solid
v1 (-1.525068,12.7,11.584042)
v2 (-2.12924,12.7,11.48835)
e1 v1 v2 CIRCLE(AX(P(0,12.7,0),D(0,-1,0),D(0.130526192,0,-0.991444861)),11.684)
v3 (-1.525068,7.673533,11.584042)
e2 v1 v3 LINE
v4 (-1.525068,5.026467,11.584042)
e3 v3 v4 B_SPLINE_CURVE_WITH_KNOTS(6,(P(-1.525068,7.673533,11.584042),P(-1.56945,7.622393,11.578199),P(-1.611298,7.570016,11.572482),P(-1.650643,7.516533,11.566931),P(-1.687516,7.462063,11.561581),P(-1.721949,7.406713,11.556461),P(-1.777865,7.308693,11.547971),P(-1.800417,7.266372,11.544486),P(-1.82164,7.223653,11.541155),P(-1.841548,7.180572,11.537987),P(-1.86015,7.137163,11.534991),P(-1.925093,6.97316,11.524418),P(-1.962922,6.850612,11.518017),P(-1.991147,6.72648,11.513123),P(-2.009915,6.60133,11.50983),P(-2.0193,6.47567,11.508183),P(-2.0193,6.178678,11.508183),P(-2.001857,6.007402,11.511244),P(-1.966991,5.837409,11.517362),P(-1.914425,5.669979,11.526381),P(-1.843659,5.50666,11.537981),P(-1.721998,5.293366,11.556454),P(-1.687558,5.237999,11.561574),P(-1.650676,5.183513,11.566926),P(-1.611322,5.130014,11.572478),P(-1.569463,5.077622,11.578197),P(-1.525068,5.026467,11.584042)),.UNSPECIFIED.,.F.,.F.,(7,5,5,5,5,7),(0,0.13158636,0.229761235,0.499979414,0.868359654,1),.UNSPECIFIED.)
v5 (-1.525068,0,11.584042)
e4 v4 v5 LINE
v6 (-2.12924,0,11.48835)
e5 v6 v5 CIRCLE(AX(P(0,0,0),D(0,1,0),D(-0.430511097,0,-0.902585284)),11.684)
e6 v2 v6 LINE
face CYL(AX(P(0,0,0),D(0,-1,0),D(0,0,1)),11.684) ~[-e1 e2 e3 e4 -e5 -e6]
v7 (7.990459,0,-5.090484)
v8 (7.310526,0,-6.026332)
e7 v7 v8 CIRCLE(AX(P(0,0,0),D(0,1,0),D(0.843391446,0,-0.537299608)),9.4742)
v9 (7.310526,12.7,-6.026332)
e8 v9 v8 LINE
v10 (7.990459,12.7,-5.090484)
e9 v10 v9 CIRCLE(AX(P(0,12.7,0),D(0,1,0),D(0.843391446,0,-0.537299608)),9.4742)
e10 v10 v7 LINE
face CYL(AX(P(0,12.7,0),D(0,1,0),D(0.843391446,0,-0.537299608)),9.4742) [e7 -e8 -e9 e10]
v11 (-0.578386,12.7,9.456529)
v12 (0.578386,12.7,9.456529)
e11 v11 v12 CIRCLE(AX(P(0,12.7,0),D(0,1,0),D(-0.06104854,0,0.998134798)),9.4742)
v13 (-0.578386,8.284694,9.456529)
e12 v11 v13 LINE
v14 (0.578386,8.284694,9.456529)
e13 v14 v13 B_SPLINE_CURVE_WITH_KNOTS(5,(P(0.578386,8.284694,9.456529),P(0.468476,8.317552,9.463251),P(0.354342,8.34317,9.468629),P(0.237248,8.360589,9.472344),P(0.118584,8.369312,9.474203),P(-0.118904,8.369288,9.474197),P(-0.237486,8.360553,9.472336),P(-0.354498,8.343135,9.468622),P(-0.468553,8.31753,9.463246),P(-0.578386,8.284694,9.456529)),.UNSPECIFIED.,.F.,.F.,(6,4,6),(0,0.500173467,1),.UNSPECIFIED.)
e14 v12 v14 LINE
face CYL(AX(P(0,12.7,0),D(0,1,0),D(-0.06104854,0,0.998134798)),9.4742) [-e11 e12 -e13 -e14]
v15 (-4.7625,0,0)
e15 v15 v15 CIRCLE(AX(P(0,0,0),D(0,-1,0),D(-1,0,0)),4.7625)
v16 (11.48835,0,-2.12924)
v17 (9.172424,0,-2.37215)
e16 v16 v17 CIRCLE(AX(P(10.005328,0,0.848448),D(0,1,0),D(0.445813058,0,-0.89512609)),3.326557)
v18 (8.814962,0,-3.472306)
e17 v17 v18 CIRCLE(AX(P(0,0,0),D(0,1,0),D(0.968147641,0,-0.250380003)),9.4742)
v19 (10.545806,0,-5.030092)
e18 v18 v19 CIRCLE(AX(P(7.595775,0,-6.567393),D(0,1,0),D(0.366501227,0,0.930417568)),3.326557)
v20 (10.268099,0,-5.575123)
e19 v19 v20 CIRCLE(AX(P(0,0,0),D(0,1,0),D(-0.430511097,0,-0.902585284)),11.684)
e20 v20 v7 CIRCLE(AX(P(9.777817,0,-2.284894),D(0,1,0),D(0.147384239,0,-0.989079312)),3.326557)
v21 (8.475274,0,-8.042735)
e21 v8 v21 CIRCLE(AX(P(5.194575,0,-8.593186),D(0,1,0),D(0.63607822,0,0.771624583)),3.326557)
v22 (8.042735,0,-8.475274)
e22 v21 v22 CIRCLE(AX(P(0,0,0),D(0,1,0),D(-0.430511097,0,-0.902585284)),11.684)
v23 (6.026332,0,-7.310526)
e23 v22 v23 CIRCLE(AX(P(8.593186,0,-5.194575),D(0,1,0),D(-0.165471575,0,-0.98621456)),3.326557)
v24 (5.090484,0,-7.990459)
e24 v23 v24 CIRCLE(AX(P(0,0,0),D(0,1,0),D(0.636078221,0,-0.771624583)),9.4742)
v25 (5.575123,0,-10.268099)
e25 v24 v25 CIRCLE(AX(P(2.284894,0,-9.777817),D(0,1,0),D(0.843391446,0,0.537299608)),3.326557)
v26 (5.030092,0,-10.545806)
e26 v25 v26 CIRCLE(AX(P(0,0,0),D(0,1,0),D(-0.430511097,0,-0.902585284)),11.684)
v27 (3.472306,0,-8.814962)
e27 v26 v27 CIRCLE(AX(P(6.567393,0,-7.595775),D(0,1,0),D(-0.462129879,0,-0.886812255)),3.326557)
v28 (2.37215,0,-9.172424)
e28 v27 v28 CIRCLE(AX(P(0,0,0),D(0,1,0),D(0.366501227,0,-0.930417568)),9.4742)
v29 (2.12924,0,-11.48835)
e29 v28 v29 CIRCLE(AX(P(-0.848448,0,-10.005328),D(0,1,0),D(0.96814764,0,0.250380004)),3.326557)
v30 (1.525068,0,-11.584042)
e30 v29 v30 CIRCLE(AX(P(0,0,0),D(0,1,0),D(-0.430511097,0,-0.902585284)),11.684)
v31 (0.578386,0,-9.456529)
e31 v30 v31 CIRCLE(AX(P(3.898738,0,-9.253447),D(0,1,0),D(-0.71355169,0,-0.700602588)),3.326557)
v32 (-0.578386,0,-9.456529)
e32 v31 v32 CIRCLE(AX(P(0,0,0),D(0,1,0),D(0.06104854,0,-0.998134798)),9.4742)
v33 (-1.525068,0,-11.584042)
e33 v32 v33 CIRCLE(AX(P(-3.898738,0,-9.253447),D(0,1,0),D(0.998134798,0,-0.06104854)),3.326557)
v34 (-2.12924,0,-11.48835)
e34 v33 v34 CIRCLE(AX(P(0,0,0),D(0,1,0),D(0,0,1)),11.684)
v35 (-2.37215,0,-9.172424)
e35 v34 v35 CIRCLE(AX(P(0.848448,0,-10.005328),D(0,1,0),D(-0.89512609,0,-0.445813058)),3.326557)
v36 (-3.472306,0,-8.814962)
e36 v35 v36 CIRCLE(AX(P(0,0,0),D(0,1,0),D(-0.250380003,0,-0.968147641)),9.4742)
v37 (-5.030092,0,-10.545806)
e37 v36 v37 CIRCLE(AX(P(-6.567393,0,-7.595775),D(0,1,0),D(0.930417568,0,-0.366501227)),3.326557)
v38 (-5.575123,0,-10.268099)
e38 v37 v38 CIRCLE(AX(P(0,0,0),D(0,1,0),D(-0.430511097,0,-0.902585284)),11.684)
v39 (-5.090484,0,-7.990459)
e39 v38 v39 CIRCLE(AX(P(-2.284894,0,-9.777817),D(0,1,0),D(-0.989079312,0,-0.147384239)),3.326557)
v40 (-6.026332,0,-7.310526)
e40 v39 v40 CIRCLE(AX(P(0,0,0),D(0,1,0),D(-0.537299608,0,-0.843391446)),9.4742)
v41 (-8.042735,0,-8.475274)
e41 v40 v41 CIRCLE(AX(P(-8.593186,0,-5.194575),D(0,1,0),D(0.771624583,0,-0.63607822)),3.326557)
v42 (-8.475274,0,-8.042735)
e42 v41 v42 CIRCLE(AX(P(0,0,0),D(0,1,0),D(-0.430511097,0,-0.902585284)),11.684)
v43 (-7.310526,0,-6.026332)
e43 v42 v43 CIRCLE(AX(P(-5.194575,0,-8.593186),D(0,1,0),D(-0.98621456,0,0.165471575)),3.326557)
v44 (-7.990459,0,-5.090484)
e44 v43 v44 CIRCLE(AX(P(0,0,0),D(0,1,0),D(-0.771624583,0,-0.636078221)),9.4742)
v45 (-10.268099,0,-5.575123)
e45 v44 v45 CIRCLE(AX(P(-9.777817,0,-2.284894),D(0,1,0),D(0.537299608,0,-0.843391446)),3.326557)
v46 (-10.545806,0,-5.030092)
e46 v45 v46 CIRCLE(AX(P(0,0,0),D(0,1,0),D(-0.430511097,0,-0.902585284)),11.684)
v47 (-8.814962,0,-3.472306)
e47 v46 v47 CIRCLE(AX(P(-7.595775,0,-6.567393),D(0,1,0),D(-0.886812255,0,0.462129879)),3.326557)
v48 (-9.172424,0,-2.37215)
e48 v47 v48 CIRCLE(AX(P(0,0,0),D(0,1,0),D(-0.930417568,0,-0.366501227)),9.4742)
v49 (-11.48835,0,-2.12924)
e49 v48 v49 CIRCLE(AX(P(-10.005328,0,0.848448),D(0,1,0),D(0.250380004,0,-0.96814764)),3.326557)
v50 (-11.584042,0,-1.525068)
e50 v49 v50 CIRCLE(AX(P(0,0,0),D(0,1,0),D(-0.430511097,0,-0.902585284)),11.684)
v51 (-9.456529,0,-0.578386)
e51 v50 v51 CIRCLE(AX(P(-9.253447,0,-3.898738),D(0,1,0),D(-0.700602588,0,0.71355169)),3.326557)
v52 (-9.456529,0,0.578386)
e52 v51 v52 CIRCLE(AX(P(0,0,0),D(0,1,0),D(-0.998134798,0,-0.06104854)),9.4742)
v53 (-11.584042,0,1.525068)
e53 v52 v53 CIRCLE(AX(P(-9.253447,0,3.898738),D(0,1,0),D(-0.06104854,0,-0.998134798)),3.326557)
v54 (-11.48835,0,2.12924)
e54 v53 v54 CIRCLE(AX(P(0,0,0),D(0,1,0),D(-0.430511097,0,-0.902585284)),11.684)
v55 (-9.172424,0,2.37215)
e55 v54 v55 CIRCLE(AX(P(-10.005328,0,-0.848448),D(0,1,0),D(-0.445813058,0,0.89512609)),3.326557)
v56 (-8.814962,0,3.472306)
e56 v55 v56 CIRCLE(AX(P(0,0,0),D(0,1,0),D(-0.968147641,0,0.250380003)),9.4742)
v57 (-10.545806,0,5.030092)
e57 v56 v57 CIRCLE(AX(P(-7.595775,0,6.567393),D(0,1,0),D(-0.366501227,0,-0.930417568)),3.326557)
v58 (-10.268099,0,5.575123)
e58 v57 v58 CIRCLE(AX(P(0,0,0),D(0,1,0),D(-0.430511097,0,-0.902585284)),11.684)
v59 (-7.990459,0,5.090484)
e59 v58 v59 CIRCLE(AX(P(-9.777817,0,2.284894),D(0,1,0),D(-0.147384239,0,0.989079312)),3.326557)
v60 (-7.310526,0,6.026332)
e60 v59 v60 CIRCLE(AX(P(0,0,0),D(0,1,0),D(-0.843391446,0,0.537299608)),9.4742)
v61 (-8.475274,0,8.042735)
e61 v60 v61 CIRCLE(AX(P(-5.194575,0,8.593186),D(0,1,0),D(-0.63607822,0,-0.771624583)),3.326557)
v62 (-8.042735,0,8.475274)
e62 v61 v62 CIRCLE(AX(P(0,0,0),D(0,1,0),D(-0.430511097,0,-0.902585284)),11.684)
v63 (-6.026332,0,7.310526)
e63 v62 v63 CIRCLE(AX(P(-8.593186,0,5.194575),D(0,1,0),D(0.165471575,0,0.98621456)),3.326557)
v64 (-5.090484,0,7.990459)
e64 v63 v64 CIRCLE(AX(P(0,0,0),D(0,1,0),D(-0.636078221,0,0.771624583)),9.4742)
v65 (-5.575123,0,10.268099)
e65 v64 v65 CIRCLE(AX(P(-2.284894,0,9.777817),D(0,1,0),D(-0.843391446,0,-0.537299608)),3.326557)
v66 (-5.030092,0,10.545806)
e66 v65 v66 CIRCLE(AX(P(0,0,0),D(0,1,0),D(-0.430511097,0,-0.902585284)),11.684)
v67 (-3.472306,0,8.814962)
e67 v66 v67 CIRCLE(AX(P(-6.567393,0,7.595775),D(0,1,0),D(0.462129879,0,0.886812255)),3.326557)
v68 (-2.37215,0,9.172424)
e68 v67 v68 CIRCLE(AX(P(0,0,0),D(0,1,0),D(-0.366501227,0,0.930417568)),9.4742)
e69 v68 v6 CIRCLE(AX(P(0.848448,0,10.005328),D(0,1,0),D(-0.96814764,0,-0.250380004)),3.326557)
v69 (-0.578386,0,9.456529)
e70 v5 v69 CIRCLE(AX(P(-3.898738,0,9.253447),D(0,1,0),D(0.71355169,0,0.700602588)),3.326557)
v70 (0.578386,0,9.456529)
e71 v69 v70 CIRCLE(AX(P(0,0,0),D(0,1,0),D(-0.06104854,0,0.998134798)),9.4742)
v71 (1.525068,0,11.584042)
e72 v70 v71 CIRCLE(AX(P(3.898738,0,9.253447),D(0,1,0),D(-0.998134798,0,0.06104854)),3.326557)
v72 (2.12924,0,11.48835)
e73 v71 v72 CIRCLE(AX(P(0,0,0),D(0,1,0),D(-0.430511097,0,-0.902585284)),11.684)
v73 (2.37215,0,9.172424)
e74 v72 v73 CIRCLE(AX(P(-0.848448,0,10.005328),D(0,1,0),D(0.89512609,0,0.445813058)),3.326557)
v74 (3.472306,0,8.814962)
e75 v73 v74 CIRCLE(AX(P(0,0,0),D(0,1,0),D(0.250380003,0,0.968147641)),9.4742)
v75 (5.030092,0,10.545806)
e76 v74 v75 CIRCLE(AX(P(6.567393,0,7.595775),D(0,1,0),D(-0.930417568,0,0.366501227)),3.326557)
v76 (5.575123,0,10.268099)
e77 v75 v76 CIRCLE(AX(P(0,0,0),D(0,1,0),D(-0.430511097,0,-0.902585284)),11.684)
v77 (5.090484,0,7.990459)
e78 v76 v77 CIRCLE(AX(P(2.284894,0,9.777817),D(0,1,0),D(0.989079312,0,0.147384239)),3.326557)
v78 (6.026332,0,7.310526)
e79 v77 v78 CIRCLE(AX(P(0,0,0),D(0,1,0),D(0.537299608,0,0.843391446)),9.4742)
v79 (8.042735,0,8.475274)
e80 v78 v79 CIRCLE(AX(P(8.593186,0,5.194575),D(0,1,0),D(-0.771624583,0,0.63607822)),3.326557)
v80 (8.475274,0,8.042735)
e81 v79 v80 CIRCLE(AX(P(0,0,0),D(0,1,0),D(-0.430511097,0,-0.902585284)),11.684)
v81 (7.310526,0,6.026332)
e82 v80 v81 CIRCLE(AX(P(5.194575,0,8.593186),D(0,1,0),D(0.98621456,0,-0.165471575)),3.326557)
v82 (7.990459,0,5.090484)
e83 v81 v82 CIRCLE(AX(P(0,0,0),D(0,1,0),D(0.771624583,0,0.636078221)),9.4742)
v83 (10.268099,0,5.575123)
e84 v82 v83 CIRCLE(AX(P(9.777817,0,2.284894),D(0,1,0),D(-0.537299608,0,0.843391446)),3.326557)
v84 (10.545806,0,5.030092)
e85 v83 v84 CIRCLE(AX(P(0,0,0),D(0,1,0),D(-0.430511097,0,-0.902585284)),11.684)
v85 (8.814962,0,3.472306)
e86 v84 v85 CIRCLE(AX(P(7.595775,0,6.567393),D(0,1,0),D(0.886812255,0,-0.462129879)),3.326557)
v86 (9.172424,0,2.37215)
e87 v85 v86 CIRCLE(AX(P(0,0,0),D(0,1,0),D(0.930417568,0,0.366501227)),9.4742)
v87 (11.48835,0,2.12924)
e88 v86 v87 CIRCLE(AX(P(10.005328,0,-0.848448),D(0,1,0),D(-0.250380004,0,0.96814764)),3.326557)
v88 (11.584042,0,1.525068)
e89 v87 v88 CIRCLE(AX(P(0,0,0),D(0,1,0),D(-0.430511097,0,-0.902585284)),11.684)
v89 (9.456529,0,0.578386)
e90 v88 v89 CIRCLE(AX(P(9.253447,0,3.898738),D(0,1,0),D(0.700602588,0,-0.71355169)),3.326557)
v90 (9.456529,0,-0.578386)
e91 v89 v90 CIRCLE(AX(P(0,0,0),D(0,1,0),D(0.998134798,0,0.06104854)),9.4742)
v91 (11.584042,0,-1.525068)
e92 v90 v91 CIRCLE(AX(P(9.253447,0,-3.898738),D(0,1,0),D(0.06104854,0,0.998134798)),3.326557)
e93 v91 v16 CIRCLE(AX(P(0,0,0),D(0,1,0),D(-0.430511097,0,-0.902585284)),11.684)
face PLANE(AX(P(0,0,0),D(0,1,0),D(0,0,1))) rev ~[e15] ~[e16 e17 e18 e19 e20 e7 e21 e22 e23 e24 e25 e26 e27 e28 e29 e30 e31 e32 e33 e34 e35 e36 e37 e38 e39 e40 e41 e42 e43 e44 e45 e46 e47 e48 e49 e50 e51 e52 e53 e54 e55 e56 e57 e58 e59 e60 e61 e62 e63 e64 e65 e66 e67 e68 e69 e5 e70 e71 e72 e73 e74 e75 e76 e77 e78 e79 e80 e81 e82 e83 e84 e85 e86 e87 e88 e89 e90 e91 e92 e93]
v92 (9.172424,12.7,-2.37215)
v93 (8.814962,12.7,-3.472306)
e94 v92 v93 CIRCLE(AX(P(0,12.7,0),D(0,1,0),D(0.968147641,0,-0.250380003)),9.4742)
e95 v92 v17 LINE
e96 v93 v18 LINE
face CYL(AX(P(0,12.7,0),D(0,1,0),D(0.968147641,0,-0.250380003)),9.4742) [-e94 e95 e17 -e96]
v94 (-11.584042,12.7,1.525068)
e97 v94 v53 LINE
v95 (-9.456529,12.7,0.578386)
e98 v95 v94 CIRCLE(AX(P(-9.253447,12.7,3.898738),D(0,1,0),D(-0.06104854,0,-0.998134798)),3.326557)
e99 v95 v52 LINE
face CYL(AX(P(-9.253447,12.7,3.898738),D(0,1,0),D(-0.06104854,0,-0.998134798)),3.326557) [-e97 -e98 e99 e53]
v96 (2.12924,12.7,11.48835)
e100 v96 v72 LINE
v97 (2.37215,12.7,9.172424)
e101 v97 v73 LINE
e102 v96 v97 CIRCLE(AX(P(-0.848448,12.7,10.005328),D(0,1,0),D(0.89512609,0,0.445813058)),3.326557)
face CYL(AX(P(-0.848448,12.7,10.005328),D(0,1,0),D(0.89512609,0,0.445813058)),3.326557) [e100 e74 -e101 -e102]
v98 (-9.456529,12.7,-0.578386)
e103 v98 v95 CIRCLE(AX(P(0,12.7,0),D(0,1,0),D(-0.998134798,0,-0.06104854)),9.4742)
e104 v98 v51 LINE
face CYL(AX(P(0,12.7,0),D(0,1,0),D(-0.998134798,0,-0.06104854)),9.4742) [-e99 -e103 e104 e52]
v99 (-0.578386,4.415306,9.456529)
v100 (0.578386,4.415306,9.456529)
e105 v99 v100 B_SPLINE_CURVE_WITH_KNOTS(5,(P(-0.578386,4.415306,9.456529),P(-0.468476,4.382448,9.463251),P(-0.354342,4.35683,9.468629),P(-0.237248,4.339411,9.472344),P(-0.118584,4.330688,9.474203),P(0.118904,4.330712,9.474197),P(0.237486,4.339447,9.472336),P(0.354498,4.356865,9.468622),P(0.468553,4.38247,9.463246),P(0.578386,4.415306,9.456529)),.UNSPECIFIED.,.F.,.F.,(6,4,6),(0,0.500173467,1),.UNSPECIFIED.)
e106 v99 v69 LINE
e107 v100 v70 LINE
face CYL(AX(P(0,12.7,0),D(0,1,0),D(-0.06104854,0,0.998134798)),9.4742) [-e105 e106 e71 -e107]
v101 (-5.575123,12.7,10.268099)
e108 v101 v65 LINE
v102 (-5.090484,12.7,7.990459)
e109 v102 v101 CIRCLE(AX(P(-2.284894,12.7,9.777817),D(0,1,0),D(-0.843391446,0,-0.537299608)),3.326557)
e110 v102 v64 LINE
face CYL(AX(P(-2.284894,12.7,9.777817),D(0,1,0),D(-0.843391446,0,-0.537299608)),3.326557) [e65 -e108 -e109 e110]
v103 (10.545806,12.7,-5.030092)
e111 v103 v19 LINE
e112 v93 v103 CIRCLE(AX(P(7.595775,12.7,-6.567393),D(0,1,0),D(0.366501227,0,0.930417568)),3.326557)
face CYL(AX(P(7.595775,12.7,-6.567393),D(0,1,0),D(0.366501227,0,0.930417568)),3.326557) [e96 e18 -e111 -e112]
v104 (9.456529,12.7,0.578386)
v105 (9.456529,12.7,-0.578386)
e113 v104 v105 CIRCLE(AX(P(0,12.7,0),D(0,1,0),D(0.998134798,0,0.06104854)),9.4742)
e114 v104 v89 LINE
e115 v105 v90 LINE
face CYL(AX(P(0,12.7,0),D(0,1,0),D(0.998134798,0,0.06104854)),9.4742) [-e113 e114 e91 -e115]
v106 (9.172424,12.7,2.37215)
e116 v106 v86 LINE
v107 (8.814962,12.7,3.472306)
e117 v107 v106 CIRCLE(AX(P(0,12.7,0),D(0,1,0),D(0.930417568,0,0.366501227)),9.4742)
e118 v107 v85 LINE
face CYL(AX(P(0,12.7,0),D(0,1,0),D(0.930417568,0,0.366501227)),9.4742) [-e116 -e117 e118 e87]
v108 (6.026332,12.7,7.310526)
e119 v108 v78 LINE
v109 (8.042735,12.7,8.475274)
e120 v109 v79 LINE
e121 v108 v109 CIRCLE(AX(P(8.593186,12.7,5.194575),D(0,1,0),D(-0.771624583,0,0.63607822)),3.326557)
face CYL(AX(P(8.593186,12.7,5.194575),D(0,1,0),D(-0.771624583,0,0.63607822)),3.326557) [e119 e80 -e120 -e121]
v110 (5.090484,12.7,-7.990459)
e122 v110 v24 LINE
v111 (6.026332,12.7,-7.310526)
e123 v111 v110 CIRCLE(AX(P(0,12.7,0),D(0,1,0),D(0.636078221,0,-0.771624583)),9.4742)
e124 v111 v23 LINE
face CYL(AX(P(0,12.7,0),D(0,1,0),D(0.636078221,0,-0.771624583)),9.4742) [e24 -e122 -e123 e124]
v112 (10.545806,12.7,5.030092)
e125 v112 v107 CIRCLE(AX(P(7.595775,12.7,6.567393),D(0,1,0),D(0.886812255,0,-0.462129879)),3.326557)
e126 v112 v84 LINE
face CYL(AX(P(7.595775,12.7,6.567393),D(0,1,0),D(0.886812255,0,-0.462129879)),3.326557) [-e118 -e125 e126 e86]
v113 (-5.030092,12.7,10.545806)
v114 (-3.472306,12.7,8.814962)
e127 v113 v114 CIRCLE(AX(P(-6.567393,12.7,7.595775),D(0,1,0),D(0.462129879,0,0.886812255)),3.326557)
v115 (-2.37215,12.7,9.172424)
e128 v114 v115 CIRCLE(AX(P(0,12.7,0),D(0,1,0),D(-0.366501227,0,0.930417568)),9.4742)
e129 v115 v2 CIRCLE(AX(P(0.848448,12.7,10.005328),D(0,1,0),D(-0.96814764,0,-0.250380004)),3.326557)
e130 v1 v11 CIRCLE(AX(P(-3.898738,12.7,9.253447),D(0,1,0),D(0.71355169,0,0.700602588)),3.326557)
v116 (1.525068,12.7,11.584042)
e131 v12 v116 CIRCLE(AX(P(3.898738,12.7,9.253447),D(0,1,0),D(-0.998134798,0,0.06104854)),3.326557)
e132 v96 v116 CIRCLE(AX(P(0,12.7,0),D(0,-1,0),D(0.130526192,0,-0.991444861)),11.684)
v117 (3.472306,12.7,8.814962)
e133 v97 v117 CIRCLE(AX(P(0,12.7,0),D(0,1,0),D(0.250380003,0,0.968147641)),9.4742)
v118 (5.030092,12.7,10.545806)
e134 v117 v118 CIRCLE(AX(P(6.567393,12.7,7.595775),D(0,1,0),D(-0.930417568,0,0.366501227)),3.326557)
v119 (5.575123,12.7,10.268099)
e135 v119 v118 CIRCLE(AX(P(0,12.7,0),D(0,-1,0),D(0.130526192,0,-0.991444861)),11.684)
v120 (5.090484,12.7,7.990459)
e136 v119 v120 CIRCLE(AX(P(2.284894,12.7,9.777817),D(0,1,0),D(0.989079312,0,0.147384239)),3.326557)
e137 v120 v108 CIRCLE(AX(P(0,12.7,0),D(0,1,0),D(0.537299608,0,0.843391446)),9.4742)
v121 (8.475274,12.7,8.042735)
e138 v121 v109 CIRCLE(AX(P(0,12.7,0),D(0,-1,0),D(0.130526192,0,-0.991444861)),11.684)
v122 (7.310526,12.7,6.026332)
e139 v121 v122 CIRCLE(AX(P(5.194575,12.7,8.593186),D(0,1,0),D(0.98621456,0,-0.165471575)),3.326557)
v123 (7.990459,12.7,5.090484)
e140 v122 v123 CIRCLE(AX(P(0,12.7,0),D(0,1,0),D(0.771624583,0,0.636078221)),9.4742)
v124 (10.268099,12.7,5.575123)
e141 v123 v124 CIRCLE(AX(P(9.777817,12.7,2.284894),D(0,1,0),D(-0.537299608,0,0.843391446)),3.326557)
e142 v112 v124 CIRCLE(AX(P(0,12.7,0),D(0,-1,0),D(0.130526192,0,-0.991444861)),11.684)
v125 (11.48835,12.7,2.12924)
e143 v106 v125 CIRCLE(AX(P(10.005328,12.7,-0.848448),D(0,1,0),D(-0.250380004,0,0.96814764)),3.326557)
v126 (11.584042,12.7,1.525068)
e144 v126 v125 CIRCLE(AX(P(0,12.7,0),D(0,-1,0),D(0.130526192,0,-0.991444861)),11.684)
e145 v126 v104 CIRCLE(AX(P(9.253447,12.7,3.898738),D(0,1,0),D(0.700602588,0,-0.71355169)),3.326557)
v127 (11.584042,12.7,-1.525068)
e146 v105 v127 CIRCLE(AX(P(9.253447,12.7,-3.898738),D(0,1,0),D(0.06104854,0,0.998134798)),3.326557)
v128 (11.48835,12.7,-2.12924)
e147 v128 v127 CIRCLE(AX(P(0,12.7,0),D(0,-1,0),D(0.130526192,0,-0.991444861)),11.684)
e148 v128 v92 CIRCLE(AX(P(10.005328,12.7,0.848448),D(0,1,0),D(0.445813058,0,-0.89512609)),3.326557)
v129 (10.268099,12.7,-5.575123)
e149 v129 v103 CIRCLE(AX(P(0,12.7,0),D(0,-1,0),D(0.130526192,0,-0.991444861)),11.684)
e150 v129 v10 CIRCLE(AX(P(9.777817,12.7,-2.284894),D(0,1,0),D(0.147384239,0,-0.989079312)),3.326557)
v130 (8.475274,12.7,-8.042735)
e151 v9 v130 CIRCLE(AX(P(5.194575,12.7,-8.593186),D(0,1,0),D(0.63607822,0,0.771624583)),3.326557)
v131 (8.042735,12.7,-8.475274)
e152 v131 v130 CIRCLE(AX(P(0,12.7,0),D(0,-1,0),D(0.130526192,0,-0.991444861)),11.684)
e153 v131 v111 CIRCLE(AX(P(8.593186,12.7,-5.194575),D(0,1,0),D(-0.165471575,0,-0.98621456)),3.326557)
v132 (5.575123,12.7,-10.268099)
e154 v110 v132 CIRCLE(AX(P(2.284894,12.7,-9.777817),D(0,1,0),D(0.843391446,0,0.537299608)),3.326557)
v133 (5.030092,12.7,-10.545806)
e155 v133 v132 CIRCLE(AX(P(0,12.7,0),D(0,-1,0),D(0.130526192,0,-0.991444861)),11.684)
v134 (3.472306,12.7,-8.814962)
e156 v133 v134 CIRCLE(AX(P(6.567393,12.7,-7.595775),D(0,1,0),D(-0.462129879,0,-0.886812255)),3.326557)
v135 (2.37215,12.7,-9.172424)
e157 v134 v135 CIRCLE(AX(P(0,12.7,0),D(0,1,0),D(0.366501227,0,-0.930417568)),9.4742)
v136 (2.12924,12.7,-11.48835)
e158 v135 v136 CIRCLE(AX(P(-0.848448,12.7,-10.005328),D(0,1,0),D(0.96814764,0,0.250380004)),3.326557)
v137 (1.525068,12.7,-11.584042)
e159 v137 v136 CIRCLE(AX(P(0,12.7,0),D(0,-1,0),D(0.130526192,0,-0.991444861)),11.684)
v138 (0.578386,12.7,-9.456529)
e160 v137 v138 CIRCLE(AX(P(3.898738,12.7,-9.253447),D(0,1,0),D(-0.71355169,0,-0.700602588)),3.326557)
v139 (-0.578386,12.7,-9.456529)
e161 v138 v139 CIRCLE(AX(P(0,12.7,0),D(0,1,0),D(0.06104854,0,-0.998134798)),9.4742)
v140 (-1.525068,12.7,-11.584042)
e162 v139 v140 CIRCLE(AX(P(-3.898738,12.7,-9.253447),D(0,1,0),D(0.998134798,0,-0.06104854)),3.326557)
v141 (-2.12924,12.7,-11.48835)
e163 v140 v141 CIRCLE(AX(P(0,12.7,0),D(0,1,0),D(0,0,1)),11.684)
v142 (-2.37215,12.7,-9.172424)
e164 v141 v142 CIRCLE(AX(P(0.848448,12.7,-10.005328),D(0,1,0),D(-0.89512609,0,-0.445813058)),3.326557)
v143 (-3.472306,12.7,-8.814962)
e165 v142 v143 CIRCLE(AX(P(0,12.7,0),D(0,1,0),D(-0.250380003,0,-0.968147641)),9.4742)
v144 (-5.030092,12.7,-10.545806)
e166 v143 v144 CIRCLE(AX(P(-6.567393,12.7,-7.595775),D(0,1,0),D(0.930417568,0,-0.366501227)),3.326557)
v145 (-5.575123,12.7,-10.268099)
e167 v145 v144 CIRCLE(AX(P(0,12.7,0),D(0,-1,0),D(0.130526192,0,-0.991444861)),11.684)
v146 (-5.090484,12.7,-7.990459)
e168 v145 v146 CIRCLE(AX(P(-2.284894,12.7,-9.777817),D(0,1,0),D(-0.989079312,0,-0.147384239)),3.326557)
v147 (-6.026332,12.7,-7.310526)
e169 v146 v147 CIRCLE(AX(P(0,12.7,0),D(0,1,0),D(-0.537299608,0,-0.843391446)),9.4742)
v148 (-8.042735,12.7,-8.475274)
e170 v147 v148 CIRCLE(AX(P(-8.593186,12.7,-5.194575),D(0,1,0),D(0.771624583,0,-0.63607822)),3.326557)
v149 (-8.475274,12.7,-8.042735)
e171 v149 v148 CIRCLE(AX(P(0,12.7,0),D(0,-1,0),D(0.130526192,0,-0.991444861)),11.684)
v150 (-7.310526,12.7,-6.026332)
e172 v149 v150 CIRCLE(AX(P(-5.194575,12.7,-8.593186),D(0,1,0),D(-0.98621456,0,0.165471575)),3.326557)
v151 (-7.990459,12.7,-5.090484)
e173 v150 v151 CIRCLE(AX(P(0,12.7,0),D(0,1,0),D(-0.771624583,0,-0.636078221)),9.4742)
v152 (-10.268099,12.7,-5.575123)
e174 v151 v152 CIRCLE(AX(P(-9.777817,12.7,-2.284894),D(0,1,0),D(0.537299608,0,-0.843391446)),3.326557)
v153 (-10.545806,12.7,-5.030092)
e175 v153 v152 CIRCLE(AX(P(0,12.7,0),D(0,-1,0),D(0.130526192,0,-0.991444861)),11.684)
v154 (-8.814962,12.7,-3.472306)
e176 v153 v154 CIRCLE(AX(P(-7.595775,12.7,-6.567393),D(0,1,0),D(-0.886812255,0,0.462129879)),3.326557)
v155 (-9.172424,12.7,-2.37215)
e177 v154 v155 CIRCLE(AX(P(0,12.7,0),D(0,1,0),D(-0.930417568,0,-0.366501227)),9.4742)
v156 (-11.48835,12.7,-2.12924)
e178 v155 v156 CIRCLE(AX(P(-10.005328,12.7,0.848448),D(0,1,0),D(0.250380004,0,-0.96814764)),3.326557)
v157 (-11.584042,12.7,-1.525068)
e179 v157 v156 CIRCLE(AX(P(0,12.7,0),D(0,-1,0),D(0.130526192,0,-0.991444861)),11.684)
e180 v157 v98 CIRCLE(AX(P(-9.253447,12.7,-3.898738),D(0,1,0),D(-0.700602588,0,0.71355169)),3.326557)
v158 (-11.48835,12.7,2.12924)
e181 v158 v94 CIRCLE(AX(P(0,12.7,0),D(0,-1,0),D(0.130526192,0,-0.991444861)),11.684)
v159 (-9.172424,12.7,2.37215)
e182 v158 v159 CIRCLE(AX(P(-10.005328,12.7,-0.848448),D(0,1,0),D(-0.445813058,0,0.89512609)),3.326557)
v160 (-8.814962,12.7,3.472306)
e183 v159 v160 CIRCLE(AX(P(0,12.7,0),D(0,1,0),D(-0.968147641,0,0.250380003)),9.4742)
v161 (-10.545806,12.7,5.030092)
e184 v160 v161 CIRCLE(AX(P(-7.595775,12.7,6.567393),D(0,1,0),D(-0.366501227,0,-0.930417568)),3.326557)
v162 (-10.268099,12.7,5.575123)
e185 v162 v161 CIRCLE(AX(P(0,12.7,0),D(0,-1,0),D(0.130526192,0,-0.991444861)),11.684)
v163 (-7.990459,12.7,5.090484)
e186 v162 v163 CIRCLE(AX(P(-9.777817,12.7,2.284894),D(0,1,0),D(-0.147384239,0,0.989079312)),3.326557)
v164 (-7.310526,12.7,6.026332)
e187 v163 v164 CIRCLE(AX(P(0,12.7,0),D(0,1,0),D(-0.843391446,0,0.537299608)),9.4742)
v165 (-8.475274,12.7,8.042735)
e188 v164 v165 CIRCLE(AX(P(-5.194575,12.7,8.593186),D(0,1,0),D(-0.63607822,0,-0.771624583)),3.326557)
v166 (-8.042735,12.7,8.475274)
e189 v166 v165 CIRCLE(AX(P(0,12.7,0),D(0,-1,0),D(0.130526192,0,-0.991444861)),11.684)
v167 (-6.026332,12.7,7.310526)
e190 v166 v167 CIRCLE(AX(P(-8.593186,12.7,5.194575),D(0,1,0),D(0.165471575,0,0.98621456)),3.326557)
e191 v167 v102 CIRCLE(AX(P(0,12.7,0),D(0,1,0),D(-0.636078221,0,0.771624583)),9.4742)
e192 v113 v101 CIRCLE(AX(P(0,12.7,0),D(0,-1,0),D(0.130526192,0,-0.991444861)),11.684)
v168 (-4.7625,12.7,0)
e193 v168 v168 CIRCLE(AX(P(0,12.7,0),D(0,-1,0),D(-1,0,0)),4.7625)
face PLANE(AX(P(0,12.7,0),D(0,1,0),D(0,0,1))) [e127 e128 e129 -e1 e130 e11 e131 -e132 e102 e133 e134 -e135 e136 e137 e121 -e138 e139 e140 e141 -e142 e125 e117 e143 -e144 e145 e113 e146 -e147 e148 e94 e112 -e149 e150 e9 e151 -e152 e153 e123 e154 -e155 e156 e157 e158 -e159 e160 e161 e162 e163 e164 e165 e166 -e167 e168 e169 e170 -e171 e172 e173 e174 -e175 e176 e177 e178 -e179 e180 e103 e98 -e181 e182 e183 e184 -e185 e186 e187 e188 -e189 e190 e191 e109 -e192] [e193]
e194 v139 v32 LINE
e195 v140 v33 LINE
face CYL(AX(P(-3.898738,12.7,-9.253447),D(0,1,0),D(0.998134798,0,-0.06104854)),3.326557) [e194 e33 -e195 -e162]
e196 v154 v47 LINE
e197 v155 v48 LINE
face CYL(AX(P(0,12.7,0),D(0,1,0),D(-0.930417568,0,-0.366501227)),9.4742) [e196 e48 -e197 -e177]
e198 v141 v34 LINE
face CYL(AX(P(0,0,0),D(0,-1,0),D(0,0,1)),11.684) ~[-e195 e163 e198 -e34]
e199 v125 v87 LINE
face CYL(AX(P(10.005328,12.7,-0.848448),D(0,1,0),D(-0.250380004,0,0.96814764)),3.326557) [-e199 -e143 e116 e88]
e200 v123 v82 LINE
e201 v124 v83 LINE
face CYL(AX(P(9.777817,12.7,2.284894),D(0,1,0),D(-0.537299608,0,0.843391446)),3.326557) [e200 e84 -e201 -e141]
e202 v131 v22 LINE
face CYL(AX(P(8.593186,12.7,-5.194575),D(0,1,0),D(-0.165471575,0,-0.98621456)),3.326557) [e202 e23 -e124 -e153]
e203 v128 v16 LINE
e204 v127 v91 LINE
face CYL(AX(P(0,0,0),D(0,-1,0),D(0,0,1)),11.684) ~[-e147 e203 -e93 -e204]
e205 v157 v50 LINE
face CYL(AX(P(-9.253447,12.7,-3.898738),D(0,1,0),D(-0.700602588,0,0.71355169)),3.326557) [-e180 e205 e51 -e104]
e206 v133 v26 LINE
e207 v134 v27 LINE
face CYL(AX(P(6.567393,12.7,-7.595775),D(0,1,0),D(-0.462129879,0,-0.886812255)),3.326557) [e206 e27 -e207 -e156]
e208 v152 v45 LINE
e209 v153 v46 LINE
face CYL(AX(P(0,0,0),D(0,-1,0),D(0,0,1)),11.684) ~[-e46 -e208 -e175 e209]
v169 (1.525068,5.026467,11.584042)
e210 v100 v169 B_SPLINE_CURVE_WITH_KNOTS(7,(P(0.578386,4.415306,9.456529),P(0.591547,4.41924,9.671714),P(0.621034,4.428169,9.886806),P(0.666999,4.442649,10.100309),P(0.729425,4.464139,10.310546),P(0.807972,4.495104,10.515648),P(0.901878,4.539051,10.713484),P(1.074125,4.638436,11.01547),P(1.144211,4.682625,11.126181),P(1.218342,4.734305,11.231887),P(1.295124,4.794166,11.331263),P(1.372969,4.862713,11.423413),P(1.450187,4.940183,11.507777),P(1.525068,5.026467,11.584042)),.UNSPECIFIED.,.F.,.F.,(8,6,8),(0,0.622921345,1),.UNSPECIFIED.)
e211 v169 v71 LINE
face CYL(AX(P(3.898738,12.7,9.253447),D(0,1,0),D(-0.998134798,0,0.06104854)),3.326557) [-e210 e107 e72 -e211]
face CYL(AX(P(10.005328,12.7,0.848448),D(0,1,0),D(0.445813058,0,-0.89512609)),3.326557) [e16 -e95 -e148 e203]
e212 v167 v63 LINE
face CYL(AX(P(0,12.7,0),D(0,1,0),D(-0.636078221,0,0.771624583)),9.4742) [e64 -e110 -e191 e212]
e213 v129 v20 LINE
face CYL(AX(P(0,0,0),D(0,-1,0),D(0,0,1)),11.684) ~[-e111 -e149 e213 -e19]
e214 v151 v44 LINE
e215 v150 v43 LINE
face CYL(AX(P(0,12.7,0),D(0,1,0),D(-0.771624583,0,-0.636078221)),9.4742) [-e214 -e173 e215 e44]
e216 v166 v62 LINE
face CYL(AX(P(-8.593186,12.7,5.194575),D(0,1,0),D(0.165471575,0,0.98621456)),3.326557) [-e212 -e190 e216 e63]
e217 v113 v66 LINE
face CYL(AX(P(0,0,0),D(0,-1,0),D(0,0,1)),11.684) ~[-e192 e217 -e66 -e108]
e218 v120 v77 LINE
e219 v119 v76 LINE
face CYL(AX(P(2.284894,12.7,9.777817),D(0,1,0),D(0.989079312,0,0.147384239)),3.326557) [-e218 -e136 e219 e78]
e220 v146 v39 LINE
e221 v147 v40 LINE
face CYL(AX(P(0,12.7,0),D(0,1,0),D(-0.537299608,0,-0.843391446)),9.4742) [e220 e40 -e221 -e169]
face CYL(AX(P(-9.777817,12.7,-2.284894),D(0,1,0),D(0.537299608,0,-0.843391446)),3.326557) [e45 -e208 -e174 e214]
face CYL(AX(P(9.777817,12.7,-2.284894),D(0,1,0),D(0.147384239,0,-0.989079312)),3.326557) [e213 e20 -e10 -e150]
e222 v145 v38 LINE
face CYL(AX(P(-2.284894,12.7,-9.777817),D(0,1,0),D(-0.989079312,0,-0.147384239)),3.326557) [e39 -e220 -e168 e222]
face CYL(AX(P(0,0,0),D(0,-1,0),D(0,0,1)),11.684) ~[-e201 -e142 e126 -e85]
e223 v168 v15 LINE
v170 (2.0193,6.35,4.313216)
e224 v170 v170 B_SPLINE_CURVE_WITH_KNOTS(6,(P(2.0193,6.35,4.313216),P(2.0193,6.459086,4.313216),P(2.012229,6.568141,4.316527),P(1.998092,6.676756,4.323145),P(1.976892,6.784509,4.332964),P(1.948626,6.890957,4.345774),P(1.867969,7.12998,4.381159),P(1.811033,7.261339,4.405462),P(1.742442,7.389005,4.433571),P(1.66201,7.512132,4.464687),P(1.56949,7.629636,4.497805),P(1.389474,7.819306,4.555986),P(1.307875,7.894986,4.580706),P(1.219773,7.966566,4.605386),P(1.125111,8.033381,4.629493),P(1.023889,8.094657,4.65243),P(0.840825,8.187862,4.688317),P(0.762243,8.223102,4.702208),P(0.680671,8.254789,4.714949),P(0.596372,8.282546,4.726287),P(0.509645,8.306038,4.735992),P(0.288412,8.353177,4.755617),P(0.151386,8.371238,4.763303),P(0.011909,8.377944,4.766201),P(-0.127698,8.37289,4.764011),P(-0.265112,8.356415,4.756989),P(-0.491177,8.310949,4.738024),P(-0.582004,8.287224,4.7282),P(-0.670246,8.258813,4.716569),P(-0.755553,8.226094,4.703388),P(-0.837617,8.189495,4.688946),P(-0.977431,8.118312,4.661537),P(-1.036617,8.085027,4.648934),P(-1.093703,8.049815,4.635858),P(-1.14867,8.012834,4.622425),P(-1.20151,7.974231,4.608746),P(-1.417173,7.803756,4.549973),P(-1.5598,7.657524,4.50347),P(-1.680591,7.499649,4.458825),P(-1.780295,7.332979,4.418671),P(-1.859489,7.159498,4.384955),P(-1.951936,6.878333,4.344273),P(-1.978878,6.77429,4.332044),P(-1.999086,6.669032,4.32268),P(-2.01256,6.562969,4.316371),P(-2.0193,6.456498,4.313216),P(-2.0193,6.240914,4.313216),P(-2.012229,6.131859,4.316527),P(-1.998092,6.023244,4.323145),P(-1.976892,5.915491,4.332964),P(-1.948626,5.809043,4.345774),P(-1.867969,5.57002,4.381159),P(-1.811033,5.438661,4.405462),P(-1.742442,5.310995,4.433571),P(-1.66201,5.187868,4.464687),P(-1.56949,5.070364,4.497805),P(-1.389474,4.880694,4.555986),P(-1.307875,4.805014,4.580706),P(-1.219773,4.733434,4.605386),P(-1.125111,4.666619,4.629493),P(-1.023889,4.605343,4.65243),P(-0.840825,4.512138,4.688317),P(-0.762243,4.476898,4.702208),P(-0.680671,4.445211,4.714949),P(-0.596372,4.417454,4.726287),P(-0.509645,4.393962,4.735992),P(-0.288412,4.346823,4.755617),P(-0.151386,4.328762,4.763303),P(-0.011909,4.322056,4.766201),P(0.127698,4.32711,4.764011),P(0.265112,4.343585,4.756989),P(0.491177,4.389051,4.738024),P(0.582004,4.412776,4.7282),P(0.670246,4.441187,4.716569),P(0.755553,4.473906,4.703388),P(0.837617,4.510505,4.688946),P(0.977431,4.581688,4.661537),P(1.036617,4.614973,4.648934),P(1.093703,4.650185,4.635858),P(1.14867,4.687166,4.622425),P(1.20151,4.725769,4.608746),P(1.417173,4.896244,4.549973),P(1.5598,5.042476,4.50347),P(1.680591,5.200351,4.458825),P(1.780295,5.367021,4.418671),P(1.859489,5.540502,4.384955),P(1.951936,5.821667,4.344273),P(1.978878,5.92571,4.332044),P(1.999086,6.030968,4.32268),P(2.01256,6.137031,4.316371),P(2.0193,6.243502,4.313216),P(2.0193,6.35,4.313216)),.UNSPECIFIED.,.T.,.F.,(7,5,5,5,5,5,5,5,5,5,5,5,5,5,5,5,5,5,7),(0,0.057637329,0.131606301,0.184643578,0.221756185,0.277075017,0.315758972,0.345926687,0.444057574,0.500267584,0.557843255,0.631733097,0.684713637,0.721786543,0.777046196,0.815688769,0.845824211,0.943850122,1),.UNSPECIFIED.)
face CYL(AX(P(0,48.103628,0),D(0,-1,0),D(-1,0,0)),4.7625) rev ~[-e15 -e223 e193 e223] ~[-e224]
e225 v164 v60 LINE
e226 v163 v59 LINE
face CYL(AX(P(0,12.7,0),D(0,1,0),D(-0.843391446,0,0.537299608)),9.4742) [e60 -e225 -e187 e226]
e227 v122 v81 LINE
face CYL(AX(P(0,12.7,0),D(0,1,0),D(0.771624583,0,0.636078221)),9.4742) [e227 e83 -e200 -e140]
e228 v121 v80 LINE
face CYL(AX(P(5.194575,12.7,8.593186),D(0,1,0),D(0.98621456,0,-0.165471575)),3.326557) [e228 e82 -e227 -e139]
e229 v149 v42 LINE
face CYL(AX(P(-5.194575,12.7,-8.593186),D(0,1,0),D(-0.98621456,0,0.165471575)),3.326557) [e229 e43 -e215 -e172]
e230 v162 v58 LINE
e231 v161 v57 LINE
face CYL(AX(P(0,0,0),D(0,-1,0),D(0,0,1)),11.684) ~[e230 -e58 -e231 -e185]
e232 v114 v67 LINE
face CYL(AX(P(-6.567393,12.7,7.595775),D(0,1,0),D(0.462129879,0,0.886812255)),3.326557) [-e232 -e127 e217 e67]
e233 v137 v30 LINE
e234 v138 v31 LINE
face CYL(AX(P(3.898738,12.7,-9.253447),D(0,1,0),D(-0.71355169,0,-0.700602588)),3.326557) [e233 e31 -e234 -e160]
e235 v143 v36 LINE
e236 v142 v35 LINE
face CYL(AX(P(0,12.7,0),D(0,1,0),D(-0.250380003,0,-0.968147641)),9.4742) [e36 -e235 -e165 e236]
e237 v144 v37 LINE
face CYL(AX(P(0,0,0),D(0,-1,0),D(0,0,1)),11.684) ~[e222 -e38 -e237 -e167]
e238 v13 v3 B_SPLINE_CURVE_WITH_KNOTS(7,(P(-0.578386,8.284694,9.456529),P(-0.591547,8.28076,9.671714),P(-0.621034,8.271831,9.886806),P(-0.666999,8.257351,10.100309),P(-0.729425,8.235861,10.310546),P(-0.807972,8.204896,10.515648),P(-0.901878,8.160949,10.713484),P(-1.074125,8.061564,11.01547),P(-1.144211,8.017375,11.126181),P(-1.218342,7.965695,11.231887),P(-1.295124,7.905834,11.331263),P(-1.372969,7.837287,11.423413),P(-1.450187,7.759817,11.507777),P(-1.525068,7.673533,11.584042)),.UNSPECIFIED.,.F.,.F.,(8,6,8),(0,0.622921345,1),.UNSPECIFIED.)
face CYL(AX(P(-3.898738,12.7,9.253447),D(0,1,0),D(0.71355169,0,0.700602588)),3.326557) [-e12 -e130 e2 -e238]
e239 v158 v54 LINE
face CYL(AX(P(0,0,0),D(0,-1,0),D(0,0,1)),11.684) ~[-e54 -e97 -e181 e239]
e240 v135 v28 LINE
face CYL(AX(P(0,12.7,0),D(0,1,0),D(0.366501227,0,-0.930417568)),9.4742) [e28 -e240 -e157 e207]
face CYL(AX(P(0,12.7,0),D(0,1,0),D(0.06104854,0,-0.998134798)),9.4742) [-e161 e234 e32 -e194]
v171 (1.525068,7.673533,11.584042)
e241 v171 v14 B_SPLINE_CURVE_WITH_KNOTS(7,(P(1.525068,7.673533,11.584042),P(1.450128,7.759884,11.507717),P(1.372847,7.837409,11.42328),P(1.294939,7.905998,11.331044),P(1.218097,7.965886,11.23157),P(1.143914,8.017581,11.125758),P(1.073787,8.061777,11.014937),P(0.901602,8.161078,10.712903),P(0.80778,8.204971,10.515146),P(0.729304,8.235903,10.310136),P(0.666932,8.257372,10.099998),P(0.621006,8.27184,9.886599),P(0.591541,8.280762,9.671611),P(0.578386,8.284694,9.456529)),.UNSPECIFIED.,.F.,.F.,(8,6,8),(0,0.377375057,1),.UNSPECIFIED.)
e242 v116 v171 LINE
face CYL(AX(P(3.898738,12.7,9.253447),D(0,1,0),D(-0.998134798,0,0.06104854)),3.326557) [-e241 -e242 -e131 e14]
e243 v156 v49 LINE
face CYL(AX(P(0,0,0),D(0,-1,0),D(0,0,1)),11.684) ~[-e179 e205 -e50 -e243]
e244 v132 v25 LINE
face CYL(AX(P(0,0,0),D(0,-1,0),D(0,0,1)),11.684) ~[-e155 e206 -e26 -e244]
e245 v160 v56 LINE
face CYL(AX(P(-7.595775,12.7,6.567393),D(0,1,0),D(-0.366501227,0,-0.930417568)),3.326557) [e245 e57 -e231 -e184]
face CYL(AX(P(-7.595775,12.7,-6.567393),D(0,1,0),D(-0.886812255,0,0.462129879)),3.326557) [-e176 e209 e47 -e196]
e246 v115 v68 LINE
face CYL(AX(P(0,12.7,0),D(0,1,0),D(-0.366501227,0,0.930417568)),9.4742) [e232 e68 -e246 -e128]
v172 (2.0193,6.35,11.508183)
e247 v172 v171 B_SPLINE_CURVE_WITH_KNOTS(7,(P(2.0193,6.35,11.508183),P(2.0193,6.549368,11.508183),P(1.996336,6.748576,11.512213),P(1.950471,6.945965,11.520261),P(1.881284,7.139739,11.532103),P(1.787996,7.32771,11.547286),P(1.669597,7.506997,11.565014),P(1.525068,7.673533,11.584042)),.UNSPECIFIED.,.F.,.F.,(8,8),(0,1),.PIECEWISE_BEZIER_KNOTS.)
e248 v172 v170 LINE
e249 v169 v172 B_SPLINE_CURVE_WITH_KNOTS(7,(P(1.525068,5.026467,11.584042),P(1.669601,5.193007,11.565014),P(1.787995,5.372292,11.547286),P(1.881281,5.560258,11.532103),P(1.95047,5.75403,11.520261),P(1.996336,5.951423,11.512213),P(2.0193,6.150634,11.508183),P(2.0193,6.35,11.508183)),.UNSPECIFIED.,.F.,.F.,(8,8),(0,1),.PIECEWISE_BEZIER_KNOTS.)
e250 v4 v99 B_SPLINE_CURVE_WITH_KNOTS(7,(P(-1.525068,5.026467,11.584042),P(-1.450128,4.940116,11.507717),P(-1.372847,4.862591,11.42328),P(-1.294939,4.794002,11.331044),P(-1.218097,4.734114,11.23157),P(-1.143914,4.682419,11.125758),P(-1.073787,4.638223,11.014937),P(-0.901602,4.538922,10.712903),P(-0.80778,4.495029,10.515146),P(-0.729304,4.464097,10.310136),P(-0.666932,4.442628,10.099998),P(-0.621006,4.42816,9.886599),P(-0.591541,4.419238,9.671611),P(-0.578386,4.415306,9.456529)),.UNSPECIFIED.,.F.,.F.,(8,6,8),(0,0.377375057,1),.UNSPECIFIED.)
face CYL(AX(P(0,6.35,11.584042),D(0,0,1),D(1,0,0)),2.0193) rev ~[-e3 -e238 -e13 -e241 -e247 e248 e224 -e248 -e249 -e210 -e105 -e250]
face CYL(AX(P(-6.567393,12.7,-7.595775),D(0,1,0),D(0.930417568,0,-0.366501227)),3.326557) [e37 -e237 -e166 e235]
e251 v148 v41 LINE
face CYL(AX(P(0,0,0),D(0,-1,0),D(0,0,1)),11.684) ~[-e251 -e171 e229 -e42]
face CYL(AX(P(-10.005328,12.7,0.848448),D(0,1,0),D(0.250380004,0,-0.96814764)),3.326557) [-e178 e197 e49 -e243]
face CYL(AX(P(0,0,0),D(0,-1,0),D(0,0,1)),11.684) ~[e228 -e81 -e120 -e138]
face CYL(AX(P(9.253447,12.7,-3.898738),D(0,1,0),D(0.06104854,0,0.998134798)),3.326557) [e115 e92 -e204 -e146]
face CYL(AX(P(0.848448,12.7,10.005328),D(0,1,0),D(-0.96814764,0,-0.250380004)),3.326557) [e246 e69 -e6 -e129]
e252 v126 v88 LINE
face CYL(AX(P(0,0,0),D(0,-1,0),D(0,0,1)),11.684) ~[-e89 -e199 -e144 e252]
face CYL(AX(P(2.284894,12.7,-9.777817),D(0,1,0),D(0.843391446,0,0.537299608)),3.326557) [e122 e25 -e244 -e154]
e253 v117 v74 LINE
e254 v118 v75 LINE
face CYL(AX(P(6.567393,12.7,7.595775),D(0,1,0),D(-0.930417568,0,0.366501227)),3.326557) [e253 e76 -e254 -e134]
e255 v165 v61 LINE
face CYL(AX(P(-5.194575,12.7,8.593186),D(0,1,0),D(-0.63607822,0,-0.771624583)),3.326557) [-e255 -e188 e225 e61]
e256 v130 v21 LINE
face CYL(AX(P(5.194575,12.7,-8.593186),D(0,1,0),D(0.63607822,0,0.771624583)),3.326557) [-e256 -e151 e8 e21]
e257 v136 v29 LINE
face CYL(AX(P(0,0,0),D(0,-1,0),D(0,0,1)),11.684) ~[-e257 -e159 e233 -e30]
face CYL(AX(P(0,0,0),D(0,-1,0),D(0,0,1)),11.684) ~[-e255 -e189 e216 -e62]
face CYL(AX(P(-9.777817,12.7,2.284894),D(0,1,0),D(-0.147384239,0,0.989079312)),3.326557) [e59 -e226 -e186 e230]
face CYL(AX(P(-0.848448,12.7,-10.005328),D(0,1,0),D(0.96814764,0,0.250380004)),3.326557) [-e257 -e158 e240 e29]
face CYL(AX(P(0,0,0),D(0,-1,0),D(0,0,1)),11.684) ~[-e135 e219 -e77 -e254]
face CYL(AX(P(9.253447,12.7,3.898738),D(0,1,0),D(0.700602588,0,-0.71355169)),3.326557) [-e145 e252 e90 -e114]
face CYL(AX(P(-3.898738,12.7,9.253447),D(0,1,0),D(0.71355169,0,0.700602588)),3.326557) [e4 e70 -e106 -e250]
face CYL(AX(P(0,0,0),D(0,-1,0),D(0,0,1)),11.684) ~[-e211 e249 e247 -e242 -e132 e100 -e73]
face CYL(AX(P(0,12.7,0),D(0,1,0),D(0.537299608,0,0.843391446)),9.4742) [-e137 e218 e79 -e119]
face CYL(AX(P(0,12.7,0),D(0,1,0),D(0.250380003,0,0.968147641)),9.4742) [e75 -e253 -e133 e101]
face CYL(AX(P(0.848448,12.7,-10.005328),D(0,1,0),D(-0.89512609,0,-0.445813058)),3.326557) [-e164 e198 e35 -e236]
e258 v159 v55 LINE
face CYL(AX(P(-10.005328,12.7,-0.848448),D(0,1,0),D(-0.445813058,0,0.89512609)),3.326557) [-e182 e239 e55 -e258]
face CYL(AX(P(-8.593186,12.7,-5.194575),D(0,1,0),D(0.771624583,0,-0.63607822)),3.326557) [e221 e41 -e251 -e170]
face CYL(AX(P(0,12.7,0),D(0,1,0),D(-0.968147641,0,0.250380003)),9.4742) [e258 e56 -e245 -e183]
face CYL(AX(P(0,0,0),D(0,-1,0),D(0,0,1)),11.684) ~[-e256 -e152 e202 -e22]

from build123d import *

# Parameters (mm, degrees)
SKETCH1_R                    = 11.684
BOSS_EXTRUDE1_DEPTH          = 12.7
F_3_8_0_375_DIAMETER_HOLE1_D = 9.525
CUT_EXTRUDE1_DEPTH           = 21.840386561
CIRPATTERN1_COUNT            = 20
F_10_32_TAPPED_HOLE2_REACH   = 30.849
F_10_32_TAPPED_HOLE2_BORE_R  = 2.0193


with BuildPart() as part:
    # Sketch1 → Boss-Extrude1 (new body)
    with BuildSketch(Plane(origin=(0, 0, 0), x_dir=(1, 0, 0), z_dir=(0, 1, 0))):
        with Locations(Location((0, 0, 0), (0, 0, 270))):
            Circle(SKETCH1_R)
    extrude(amount=BOSS_EXTRUDE1_DEPTH)

    # 3/8 (0.375) Diameter Hole1 (through all)
    with Locations(Plane(origin=(0, 12.7, 0), x_dir=(1, 0, 0), z_dir=(0, 1, 0))):
        with Locations((0, 0)):
            Hole(F_3_8_0_375_DIAMETER_HOLE1_D / 2)

    # Sketch6 → Cut-Extrude1 (cut, through all)
    with BuildSketch(Plane(origin=(0, 12.7, 0), x_dir=(1, 0, 0), z_dir=(0, 1, 0))):
        with BuildLine():
            ThreePointArc((-1.52506803, 11.58404176), (0, 11.684), (1.52506803, 11.58404176))
            ThreePointArc((1.52506803, 11.58404176), (0.859486594, 10.605826694), (0.578386073, 9.456528707))
            ThreePointArc((0.578386073, 9.456528707), (0, 9.4742), (-0.578386073, 9.456528707))
            ThreePointArc((-0.578386073, 9.456528707), (-0.859486594, 10.605826694), (-1.52506803, 11.58404176))
        make_face()
    cut_extrude1 = extrude(amount=-CUT_EXTRUDE1_DEPTH, mode=Mode.SUBTRACT)

    # CirPattern1: Cut-Extrude1 ×20 about axis
    cirpattern1_axis = Axis((0, 0, 0), (0, 1, 0))
    for i in range(1, CIRPATTERN1_COUNT):
        add(cut_extrude1.rotate(cirpattern1_axis, i * 360 / CIRPATTERN1_COUNT), mode=Mode.SUBTRACT)

    # #10-32 Tapped Hole2 bore → #10-32 Tapped Hole2 (cut, up to next)
    with BuildSketch(Plane.XY.offset(11.58404176), mode=Mode.PRIVATE) as f_10_32_tapped_hole2_sk1:
        with Locations((0, 6.35)):
            Circle(F_10_32_TAPPED_HOLE2_BORE_R)
    f_10_32_tapped_hole2_tool1 = extrude(f_10_32_tapped_hole2_sk1.sketch, amount=-F_10_32_TAPPED_HOLE2_REACH, mode=Mode.PRIVATE) & part.part
    add(f_10_32_tapped_hole2_tool1.solids().sort_by_distance((0, 6.35, 11.584042))[0], mode=Mode.SUBTRACT)


solid = part.part
